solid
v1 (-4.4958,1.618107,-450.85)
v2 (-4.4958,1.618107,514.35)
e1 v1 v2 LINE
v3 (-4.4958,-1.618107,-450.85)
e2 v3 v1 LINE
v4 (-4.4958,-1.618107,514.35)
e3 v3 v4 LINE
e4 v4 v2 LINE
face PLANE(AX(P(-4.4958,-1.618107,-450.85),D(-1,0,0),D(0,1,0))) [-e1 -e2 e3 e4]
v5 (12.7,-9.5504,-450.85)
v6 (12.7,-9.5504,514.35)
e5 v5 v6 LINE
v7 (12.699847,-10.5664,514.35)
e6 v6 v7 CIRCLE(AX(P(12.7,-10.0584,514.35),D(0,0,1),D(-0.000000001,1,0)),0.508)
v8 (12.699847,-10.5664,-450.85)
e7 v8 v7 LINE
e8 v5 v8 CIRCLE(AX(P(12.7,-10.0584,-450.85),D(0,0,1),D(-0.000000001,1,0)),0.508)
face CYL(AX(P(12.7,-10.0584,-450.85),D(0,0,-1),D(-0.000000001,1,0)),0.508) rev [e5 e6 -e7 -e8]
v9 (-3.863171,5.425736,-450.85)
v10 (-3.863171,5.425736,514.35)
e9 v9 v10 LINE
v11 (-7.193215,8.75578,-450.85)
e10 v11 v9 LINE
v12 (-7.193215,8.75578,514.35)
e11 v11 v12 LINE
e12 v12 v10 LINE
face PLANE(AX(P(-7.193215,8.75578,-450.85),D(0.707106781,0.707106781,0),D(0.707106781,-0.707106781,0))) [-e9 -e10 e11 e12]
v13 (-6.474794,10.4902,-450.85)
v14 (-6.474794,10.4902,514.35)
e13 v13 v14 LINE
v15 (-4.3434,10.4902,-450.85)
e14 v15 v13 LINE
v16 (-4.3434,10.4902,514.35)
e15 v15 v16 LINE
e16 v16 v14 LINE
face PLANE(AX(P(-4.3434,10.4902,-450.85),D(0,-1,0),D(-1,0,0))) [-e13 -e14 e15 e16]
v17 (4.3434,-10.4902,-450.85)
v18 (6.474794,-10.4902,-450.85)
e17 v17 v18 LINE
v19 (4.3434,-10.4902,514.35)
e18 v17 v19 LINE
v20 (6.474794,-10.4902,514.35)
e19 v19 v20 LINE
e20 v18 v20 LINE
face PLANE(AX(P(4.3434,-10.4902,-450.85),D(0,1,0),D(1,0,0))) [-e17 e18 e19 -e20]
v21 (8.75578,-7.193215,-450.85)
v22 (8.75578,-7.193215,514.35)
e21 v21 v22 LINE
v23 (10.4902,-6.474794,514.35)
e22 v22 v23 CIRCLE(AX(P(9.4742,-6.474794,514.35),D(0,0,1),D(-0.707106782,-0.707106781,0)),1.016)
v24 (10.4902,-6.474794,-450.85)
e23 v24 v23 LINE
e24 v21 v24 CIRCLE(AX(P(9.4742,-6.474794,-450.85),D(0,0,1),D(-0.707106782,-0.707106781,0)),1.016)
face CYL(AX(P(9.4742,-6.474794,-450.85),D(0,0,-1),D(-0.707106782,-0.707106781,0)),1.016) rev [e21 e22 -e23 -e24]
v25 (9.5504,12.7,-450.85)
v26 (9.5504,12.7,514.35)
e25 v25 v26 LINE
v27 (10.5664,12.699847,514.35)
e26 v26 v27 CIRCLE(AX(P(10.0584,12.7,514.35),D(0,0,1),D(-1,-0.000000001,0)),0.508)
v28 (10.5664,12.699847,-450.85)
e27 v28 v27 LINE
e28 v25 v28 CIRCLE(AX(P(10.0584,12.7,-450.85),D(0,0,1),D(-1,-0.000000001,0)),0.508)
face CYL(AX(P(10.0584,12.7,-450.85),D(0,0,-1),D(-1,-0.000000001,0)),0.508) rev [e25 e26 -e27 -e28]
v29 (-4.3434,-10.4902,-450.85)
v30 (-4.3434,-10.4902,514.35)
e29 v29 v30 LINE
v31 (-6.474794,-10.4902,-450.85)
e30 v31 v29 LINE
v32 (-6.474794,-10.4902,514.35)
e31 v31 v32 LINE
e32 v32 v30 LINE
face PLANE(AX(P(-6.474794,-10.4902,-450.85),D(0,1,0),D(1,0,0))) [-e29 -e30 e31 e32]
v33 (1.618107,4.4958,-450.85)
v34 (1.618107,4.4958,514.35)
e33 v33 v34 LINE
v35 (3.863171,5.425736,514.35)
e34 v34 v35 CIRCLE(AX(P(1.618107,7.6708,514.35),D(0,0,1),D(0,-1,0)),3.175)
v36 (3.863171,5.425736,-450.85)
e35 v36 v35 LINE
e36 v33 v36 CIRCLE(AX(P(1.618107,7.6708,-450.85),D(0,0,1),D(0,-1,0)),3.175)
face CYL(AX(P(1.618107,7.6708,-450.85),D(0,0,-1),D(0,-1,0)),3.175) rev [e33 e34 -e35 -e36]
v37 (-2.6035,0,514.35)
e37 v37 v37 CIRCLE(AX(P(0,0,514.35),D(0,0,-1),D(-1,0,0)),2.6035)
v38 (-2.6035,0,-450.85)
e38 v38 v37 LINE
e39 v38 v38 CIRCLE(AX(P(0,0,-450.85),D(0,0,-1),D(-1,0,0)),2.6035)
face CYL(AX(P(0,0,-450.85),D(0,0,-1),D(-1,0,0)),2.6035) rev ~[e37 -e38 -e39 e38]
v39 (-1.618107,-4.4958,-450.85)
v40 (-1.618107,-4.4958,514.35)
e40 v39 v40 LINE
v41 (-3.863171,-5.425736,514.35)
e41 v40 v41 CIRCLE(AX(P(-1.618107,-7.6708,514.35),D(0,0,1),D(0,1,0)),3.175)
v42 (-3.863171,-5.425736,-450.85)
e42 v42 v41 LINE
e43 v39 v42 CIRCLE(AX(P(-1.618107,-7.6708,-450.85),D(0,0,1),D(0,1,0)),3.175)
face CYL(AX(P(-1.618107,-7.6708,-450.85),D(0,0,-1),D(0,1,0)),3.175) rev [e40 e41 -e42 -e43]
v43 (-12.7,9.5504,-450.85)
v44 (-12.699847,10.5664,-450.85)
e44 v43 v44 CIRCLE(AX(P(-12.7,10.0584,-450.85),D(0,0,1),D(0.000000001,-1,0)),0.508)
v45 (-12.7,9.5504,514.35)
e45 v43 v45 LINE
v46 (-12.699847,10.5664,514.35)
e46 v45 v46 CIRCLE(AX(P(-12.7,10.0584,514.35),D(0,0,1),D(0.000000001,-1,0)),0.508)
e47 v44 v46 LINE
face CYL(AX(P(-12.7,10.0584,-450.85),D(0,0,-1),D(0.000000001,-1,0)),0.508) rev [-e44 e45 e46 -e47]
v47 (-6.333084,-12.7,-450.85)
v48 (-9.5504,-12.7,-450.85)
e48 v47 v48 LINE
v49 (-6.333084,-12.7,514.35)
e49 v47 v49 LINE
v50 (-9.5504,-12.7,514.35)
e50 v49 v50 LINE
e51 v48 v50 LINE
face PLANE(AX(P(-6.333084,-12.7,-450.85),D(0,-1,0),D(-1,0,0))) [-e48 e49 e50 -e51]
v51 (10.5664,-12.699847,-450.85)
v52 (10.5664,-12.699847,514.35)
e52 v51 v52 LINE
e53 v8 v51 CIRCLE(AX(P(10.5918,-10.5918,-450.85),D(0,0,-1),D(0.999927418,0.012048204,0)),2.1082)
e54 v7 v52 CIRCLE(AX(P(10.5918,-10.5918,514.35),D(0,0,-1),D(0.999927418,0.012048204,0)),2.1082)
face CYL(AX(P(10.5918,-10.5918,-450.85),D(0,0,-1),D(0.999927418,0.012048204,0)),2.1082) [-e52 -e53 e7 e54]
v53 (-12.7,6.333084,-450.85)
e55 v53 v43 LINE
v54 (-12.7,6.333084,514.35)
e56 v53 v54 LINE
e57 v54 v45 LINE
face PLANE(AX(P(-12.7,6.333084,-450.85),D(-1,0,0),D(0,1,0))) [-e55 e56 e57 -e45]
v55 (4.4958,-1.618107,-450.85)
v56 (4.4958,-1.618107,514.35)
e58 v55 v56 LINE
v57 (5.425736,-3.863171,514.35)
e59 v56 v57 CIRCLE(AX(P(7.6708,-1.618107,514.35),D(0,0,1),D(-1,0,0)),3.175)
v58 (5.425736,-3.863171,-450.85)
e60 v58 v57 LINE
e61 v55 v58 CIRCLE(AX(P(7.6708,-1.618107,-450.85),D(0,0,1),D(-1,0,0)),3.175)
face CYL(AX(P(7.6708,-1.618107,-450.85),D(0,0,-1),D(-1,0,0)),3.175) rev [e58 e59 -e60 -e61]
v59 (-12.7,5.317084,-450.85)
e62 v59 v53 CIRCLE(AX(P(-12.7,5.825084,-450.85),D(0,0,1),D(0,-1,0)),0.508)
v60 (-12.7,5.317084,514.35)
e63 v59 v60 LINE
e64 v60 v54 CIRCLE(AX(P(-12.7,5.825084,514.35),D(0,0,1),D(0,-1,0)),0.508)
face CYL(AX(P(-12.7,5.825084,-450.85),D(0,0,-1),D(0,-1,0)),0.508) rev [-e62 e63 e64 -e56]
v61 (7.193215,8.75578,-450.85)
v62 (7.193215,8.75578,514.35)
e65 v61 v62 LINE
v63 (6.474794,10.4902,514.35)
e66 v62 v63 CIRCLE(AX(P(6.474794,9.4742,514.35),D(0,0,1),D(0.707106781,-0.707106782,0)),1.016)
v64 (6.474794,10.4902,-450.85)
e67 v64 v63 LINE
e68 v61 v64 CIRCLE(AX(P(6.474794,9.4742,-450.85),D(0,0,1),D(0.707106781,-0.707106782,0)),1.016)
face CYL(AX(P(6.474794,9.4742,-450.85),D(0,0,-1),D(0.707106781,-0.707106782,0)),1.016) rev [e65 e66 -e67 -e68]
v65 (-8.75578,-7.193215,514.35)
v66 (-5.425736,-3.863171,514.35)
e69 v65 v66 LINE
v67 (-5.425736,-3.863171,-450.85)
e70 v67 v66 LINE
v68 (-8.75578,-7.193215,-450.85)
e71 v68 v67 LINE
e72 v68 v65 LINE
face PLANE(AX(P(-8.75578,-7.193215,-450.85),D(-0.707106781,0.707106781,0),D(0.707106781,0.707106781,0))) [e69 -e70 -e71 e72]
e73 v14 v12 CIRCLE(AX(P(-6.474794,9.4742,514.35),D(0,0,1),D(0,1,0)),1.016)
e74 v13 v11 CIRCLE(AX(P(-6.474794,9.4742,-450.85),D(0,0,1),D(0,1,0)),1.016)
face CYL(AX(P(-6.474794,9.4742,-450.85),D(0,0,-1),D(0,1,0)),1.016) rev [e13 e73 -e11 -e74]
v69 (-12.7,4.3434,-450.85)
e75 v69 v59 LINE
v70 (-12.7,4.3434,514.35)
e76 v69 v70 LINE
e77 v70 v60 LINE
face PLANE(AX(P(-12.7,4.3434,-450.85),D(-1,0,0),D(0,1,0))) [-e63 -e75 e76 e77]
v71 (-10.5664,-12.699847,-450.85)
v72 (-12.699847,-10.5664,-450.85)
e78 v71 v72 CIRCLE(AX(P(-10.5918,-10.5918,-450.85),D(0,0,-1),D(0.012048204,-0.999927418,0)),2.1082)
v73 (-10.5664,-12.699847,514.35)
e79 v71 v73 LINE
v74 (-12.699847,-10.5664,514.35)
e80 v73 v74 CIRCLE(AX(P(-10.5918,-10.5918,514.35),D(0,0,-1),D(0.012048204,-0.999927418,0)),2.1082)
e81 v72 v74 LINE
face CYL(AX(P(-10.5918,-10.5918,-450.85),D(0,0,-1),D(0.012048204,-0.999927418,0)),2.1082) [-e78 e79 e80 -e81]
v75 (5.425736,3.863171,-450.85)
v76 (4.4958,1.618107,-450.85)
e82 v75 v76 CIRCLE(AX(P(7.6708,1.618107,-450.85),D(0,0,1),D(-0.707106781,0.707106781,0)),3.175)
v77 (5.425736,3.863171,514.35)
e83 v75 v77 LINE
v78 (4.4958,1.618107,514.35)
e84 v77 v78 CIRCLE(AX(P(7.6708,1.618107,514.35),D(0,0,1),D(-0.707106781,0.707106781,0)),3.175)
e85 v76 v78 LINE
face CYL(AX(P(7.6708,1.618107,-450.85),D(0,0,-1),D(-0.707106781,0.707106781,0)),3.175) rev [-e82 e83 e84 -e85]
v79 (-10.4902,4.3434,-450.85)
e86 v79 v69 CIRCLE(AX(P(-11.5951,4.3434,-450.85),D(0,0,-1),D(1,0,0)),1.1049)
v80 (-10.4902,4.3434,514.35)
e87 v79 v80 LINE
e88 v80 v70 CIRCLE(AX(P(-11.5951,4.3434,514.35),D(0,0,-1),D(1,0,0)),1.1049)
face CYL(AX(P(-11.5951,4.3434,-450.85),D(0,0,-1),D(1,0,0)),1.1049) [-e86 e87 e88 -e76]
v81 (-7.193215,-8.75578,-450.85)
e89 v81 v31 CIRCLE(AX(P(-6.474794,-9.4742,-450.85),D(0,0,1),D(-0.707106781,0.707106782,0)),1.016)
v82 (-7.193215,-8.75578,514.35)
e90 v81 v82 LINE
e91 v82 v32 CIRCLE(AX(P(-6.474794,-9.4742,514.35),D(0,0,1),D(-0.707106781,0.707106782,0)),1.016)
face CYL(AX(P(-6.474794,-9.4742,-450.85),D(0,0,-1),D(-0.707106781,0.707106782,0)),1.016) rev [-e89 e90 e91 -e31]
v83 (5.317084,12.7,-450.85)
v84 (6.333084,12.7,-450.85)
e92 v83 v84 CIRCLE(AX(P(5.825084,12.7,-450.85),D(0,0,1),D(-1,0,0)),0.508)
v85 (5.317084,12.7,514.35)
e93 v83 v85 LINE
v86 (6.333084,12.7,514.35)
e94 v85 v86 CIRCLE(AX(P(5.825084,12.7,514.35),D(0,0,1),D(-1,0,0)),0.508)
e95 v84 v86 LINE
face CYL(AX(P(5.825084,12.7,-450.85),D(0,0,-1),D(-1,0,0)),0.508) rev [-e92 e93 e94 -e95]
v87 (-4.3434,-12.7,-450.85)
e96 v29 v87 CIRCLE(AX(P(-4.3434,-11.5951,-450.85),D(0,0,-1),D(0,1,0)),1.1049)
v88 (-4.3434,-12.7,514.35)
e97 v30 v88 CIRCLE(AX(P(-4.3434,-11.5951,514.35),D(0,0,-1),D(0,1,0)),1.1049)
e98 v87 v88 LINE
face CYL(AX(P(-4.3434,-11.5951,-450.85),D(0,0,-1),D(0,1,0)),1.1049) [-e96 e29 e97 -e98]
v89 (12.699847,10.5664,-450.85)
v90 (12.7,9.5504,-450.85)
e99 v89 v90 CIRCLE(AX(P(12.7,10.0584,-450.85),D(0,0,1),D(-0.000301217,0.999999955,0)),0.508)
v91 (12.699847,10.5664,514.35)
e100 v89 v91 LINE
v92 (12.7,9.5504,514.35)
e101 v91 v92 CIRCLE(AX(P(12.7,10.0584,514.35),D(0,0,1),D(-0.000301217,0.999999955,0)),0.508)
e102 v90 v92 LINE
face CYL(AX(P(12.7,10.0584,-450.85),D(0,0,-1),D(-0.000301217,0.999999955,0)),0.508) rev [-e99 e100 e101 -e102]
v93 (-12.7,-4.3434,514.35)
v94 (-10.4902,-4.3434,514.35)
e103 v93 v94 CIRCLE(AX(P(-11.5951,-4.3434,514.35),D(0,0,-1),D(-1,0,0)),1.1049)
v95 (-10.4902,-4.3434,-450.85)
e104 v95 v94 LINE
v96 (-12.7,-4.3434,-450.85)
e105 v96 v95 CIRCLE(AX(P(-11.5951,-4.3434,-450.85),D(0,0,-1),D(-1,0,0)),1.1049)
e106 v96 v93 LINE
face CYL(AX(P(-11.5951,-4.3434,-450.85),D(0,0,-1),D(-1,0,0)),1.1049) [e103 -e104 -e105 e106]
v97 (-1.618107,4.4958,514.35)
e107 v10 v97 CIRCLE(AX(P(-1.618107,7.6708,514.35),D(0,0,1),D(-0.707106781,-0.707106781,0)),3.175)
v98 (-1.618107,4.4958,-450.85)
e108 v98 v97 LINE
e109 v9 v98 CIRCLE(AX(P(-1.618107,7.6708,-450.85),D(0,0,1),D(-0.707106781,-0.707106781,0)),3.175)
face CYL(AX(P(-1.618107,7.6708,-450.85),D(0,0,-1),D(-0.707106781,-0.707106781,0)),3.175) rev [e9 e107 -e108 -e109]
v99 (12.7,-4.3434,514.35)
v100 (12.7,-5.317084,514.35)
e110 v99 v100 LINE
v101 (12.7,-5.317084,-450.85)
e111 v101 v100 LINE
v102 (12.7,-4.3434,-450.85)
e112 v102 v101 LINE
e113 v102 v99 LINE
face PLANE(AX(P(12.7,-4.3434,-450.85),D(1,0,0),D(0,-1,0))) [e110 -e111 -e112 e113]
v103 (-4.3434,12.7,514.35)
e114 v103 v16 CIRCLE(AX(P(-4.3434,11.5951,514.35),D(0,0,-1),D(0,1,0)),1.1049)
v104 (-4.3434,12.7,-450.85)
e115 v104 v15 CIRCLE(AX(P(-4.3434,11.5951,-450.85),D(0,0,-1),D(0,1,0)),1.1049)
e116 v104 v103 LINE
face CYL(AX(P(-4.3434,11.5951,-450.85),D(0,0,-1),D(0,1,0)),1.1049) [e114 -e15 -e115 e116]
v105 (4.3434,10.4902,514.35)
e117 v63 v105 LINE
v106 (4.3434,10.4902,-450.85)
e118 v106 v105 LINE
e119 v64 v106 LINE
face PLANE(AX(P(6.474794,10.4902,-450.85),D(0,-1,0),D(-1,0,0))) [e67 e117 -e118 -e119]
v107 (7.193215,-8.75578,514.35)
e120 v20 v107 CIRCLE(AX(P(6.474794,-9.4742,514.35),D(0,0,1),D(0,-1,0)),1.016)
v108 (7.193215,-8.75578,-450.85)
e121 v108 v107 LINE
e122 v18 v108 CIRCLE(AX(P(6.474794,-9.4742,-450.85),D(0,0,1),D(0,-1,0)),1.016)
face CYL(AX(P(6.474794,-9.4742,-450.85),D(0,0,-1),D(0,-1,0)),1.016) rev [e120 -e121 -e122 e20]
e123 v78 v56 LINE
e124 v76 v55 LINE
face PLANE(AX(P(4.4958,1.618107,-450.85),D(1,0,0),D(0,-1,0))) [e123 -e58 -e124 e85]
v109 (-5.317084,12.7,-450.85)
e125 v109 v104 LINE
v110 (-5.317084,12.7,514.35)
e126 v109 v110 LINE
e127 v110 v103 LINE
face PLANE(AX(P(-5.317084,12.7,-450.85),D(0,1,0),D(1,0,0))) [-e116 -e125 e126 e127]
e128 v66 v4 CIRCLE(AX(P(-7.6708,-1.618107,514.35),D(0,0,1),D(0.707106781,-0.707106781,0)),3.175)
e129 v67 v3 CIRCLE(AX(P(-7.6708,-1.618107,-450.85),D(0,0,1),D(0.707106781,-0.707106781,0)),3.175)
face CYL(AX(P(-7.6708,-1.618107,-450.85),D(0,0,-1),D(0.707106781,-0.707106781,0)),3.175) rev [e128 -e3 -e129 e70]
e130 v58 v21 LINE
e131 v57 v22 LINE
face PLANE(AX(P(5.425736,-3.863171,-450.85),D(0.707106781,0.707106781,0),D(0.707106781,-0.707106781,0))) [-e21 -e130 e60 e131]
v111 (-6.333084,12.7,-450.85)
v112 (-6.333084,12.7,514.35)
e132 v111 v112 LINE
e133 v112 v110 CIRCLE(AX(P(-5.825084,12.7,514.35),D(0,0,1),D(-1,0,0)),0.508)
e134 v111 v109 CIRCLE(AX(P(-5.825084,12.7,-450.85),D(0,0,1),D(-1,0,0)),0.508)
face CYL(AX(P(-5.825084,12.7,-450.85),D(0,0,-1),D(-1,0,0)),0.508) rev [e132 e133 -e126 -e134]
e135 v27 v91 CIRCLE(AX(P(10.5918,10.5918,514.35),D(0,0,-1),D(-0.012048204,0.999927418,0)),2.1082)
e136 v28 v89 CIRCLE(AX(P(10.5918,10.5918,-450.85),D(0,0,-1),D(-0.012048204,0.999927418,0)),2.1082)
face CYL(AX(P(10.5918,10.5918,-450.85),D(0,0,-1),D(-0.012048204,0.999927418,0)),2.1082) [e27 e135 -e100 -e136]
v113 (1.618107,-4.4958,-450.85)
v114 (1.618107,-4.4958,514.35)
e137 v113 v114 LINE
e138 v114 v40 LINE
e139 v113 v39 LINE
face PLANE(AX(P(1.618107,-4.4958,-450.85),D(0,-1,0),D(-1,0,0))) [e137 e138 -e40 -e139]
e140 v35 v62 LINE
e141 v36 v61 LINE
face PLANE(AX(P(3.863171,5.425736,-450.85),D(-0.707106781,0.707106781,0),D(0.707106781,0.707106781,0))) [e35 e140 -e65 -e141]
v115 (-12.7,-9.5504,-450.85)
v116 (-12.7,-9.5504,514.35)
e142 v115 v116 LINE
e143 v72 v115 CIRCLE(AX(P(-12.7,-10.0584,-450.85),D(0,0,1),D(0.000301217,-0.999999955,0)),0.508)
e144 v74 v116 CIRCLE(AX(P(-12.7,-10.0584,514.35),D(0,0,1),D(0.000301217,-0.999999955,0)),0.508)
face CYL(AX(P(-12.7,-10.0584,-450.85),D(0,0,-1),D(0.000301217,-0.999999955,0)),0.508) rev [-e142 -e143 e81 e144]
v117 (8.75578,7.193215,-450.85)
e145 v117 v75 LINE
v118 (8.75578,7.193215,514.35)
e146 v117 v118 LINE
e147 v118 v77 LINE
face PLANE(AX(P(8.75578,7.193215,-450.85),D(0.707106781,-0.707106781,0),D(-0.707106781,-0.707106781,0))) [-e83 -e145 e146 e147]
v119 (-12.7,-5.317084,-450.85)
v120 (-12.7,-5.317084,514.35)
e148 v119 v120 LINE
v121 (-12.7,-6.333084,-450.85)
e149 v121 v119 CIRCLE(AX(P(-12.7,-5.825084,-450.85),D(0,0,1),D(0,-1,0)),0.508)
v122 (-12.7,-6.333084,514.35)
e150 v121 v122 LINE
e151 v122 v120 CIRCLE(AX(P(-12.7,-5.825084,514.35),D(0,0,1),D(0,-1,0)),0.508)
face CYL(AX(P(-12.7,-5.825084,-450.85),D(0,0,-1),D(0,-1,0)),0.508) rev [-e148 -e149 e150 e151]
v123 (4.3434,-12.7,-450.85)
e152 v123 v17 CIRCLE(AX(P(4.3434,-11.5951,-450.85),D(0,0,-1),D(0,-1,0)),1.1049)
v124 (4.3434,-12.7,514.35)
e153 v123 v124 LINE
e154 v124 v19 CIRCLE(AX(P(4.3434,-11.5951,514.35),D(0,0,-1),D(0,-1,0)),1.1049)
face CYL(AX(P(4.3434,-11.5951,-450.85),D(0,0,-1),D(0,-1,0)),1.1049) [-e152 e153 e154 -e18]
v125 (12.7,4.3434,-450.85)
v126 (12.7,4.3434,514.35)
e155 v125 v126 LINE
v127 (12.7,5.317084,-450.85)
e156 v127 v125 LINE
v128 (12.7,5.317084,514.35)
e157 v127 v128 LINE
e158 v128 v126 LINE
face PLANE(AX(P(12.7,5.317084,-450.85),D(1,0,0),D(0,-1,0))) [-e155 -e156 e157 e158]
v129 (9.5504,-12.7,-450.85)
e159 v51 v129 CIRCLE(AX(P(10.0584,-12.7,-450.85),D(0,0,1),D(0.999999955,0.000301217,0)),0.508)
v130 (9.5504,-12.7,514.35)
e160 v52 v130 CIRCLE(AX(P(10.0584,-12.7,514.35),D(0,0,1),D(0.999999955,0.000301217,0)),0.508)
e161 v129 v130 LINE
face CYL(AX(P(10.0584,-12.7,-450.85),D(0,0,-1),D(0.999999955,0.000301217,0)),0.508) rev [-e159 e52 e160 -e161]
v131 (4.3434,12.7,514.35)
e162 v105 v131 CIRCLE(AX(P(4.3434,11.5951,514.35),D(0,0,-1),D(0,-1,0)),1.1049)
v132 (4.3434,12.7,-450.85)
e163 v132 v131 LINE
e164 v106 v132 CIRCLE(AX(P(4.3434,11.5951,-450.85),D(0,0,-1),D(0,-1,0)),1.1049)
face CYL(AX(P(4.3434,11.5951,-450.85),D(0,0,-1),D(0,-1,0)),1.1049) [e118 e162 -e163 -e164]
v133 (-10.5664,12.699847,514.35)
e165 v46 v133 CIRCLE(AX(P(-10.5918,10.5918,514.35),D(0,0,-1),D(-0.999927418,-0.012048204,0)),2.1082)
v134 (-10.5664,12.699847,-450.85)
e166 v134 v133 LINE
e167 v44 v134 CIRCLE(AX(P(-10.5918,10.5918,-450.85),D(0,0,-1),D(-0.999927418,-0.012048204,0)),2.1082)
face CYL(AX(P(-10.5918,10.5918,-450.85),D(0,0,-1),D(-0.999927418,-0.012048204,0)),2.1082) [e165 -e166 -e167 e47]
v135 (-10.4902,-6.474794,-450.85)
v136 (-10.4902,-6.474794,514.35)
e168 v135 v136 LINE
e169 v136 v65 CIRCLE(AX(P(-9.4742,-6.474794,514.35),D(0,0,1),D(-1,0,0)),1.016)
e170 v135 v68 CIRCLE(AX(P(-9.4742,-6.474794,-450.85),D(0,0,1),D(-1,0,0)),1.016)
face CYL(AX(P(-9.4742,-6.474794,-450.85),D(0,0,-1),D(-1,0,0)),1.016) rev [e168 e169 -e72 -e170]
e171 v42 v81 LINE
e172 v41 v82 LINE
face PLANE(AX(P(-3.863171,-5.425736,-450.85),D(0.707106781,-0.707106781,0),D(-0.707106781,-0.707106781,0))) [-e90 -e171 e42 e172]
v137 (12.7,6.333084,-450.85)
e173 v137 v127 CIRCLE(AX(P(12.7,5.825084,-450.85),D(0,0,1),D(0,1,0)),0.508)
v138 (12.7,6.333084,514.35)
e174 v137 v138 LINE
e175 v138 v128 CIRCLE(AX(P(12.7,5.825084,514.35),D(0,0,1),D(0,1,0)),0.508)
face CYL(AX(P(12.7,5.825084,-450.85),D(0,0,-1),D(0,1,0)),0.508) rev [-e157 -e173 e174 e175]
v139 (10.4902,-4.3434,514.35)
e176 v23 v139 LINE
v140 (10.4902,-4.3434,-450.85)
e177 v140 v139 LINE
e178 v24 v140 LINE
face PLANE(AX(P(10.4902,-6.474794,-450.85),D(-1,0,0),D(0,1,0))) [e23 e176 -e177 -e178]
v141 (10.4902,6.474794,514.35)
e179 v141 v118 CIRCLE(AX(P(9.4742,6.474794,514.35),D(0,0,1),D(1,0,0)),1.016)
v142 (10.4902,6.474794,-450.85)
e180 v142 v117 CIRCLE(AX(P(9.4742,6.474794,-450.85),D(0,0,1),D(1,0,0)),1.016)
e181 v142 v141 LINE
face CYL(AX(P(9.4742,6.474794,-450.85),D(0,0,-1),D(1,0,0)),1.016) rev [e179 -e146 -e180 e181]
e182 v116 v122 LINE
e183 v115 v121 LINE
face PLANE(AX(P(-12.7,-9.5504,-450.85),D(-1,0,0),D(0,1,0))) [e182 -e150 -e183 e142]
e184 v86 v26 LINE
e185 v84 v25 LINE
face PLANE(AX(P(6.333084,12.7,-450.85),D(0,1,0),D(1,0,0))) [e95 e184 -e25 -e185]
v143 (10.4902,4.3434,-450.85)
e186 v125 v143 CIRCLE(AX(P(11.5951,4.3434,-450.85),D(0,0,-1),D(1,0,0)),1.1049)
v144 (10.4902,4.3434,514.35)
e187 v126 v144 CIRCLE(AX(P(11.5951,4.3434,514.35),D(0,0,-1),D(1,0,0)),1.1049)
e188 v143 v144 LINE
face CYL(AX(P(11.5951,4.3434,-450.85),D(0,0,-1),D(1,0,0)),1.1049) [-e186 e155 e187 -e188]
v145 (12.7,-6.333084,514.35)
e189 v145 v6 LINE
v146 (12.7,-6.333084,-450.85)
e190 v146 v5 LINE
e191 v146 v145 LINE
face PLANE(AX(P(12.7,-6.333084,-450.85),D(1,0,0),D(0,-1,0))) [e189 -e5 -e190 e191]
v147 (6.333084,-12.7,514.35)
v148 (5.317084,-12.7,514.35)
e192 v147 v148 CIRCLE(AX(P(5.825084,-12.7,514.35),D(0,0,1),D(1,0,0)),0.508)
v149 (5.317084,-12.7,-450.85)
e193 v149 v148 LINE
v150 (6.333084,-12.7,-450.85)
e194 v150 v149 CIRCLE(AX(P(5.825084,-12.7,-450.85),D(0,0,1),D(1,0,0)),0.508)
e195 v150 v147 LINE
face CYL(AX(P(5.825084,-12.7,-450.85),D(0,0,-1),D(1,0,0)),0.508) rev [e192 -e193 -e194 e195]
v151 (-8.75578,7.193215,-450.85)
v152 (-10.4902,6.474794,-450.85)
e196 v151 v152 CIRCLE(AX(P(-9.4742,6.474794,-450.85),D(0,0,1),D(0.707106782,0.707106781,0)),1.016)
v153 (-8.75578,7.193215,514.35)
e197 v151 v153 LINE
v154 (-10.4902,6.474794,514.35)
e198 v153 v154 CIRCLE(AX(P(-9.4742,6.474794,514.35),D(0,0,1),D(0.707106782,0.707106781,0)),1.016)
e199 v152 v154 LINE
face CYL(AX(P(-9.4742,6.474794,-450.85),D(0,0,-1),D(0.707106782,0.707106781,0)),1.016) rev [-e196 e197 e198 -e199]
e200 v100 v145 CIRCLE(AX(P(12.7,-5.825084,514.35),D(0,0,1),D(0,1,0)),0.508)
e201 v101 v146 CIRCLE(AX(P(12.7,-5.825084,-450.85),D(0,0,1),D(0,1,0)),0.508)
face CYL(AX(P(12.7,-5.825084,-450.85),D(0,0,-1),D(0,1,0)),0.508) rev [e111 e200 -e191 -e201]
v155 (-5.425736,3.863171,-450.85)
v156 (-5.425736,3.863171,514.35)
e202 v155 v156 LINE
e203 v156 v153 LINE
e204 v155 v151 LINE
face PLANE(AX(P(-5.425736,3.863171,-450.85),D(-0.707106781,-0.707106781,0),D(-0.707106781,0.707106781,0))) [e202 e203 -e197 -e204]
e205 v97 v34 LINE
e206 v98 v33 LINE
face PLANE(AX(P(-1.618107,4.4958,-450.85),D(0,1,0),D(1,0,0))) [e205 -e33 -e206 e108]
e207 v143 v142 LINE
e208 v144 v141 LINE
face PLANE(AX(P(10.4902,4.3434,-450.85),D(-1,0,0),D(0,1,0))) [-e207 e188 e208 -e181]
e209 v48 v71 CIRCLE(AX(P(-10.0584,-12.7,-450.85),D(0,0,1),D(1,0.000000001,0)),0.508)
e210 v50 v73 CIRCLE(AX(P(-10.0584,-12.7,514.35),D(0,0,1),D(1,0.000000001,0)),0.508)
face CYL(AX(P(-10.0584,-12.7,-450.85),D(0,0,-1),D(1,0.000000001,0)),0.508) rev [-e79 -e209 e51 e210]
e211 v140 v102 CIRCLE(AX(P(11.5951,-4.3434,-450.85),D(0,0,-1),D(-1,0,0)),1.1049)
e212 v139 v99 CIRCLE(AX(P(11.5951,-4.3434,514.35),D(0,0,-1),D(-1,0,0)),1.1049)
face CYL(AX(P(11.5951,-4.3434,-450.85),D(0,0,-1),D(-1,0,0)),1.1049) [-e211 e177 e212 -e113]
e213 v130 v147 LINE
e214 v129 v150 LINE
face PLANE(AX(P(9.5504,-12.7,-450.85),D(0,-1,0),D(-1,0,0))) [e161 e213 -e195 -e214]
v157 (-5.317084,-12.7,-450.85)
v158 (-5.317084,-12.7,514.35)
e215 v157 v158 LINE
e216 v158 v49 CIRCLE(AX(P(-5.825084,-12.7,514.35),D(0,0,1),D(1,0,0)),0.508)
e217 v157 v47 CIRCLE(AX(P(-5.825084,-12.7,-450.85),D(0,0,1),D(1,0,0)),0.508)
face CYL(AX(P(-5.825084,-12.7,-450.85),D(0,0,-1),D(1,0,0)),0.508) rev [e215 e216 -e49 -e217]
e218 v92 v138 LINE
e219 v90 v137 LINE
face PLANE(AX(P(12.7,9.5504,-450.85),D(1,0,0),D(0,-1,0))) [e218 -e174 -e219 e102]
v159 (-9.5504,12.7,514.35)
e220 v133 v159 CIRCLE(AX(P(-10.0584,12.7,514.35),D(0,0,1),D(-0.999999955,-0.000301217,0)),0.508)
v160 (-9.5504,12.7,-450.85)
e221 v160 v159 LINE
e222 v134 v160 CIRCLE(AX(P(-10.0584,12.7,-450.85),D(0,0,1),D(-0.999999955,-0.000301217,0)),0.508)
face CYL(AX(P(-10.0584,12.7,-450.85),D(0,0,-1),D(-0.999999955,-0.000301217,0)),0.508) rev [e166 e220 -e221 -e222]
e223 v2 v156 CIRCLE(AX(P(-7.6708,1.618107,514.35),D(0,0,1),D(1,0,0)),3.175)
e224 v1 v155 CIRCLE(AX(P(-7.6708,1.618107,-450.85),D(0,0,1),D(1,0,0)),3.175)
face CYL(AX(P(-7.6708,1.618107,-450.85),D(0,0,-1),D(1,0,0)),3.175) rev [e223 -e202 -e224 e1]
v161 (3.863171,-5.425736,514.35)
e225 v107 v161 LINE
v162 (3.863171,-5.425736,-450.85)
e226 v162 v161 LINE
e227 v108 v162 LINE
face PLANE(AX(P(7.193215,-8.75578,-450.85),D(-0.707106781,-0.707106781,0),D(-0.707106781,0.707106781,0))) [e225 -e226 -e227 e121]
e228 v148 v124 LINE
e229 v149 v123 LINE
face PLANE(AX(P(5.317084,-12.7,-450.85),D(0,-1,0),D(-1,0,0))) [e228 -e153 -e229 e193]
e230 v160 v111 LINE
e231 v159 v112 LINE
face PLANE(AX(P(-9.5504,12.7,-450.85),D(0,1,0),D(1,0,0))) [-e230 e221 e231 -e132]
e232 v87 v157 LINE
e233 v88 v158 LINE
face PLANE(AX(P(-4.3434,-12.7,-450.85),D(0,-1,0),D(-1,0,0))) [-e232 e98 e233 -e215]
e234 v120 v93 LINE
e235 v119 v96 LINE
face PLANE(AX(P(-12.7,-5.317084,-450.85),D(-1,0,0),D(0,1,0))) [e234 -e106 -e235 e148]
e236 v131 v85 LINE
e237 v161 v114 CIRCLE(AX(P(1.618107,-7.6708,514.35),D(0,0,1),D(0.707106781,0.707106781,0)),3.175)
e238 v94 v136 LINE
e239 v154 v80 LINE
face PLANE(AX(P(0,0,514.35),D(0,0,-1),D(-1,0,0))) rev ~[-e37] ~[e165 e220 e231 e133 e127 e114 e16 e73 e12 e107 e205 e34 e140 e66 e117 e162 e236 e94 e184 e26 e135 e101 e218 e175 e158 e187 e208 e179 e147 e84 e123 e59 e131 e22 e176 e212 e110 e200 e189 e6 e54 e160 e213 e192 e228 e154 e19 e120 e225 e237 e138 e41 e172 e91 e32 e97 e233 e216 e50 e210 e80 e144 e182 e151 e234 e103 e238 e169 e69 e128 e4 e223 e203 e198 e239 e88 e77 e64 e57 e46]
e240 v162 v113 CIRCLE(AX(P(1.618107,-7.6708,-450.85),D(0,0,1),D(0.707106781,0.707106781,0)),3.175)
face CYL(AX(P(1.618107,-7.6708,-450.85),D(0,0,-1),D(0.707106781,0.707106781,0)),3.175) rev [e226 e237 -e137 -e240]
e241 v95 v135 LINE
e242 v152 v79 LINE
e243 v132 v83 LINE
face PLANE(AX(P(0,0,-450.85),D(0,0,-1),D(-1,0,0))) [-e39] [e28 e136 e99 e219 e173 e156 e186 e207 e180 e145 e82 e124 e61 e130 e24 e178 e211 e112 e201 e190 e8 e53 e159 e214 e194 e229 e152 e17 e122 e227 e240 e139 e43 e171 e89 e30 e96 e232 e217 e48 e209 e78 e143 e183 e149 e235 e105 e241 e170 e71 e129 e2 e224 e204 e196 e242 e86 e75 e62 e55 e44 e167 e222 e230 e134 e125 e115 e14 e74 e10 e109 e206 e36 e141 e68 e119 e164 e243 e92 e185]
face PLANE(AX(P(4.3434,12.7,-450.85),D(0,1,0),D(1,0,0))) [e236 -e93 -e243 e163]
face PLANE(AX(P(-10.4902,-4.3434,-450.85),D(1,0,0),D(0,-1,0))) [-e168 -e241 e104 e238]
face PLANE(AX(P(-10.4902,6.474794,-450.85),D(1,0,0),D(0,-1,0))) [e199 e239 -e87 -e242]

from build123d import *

# Parameters (mm, degrees)
SKETCH1_R           = 2.6035
BOSS_EXTRUDE1_DEPTH = 965.2


with BuildPart() as part:
    # Sketch1 → Boss-Extrude1 (new body)
    with BuildSketch(Plane(origin=(0, 0, -450.85), x_dir=(-1, 0, 0), z_dir=(0, 0, -1))):
        with BuildLine():
            Line((12.7, -9.5504), (12.7, -6.3330836))
            ThreePointArc((12.7, -6.3330836), (12.192, -5.8250836), (12.7, -5.3170836))
            Line((12.7, -5.3170836), (12.7, -4.3434))
            ThreePointArc((12.7, -4.3434), (11.5951, -3.2385), (10.4902, -4.3434))
            Line((10.4902, -4.3434), (10.4902, -6.474794456))
            ThreePointArc((10.4902, -6.474794456), (9.863006367, -7.413456061), (8.75577951, -7.193214945))
            Line((8.75577951, -7.193214945), (5.42573597, -3.863171405))
            ThreePointArc((5.42573597, -3.863171405), (4.737482484, -2.833127272), (4.4958, -1.618107374))
            Line((4.4958, -1.618107374), (4.4958, 1.618107374))
            ThreePointArc((4.4958, 1.618107374), (4.737482484, 2.833127272), (5.42573597, 3.863171405))
            Line((5.42573597, 3.863171405), (8.75577951, 7.193214945))
            ThreePointArc((8.75577951, 7.193214945), (9.863006367, 7.413456061), (10.4902, 6.474794456))
            Line((10.4902, 6.474794456), (10.4902, 4.343399971))
            ThreePointArc((10.4902, 4.343399971), (11.5951, 3.238499971), (12.7, 4.343399971))
            Line((12.7, 4.343399971), (12.7, 5.3170836))
            ThreePointArc((12.7, 5.3170836), (12.192, 5.8250836), (12.7, 6.3330836))
            Line((12.7, 6.3330836), (12.7, 9.5504))
            ThreePointArc((12.7, 9.5504), (12.192000006, 10.058323491), (12.699846982, 10.566399977))
            ThreePointArc((12.699846982, 10.566399977), (12.082522516, 12.082522516), (10.566399977, 12.699846982))
            ThreePointArc((10.566399977, 12.699846982), (10.058323491, 12.192000006), (9.5504, 12.7))
            Line((9.5504, 12.7), (6.3330836, 12.7))
            ThreePointArc((6.3330836, 12.7), (5.8250836, 12.192), (5.3170836, 12.7))
            Line((5.3170836, 12.7), (4.3434, 12.7))
            ThreePointArc((4.3434, 12.7), (3.2385, 11.5951), (4.3434, 10.4902))
            Line((4.3434, 10.4902), (6.474794456, 10.4902))
            ThreePointArc((6.474794456, 10.4902), (7.413456061, 9.863006367), (7.193214945, 8.75577951))
            Line((7.193214945, 8.75577951), (3.863171405, 5.42573597))
            ThreePointArc((3.863171405, 5.42573597), (2.833127272, 4.737482484), (1.618107374, 4.4958))
            Line((1.618107374, 4.4958), (-1.618107374, 4.4958))
            ThreePointArc((-1.618107374, 4.4958), (-2.833127272, 4.737482484), (-3.863171405, 5.42573597))
            Line((-3.863171405, 5.42573597), (-7.193214945, 8.75577951))
            ThreePointArc((-7.193214945, 8.75577951), (-7.413456061, 9.863006367), (-6.474794456, 10.4902))
            Line((-6.474794456, 10.4902), (-4.343399971, 10.4902))
            ThreePointArc((-4.343399971, 10.4902), (-3.238499971, 11.5951), (-4.343399971, 12.7))
            Line((-4.343399971, 12.7), (-5.3170836, 12.7))
            ThreePointArc((-5.3170836, 12.7), (-5.8250836, 12.192), (-6.3330836, 12.7))
            Line((-6.3330836, 12.7), (-9.5504, 12.7))
            ThreePointArc((-9.5504, 12.7), (-10.058323491, 12.192000006), (-10.566399977, 12.699846982))
            ThreePointArc((-10.566399977, 12.699846982), (-12.082522516, 12.082522516), (-12.699846982, 10.566399977))
            ThreePointArc((-12.699846982, 10.566399977), (-12.192000006, 10.058323491), (-12.7, 9.5504))
            Line((-12.7, 9.5504), (-12.7, 6.3330836))
            ThreePointArc((-12.7, 6.3330836), (-12.192, 5.8250836), (-12.7, 5.3170836))
            Line((-12.7, 5.3170836), (-12.7, 4.3434))
            ThreePointArc((-12.7, 4.3434), (-11.5951, 3.2385), (-10.4902, 4.3434))
            Line((-10.4902, 4.3434), (-10.4902, 6.474794456))
            ThreePointArc((-10.4902, 6.474794456), (-9.863006367, 7.413456061), (-8.75577951, 7.193214945))
            Line((-8.75577951, 7.193214945), (-5.42573597, 3.863171405))
            ThreePointArc((-5.42573597, 3.863171405), (-4.737482484, 2.833127272), (-4.4958, 1.618107374))
            Line((-4.4958, 1.618107374), (-4.4958, -1.618107374))
            ThreePointArc((-4.4958, -1.618107374), (-4.737482484, -2.833127272), (-5.42573597, -3.863171405))
            Line((-5.42573597, -3.863171405), (-8.75577951, -7.193214945))
            ThreePointArc((-8.75577951, -7.193214945), (-9.863006367, -7.413456061), (-10.4902, -6.474794456))
            Line((-10.4902, -6.474794456), (-10.4902, -4.343399971))
            ThreePointArc((-10.4902, -4.343399971), (-11.5951, -3.238499971), (-12.7, -4.343399971))
            Line((-12.7, -4.343399971), (-12.7, -5.3170836))
            ThreePointArc((-12.7, -5.3170836), (-12.192, -5.8250836), (-12.7, -6.3330836))
            Line((-12.7, -6.3330836), (-12.7, -9.5504))
            ThreePointArc((-12.7, -9.5504), (-12.192000006, -10.058323491), (-12.699846982, -10.566399977))
            ThreePointArc((-12.699846982, -10.566399977), (-12.082522516, -12.082522516), (-10.566399977, -12.699846982))
            ThreePointArc((-10.566399977, -12.699846982), (-10.058323491, -12.192000006), (-9.5504, -12.7))
            Line((-9.5504, -12.7), (-6.3330836, -12.7))
            ThreePointArc((-6.3330836, -12.7), (-5.8250836, -12.192), (-5.3170836, -12.7))
            Line((-5.3170836, -12.7), (-4.3434, -12.7))
            ThreePointArc((-4.3434, -12.7), (-3.2385, -11.5951), (-4.3434, -10.4902))
            Line((-4.3434, -10.4902), (-6.474794456, -10.4902))
            ThreePointArc((-6.474794456, -10.4902), (-7.413456061, -9.863006367), (-7.193214945, -8.75577951))
            Line((-7.193214945, -8.75577951), (-3.863171405, -5.42573597))
            ThreePointArc((-3.863171405, -5.42573597), (-2.833127272, -4.737482484), (-1.618107374, -4.4958))
            Line((-1.618107374, -4.4958), (1.618107374, -4.4958))
            ThreePointArc((1.618107374, -4.4958), (2.833127272, -4.737482484), (3.863171405, -5.42573597))
            Line((3.863171405, -5.42573597), (7.193214945, -8.75577951))
            ThreePointArc((7.193214945, -8.75577951), (7.413456061, -9.863006367), (6.474794456, -10.4902))
            Line((6.474794456, -10.4902), (4.343399971, -10.4902))
            ThreePointArc((4.343399971, -10.4902), (3.238499971, -11.5951), (4.343399971, -12.7))
            Line((4.343399971, -12.7), (5.3170836, -12.7))
            ThreePointArc((5.3170836, -12.7), (5.8250836, -12.192), (6.3330836, -12.7))
            Line((6.3330836, -12.7), (9.5504, -12.7))
            ThreePointArc((9.5504, -12.7), (10.058323491, -12.192000006), (10.566399977, -12.699846982))
            ThreePointArc((10.566399977, -12.699846982), (12.082522516, -12.082522516), (12.699846982, -10.566399977))
            ThreePointArc((12.699846982, -10.566399977), (12.192000006, -10.058323491), (12.7, -9.5504))
        make_face()
        Circle(SKETCH1_R, mode=Mode.SUBTRACT)
    extrude(amount=-BOSS_EXTRUDE1_DEPTH)


solid = part.part
